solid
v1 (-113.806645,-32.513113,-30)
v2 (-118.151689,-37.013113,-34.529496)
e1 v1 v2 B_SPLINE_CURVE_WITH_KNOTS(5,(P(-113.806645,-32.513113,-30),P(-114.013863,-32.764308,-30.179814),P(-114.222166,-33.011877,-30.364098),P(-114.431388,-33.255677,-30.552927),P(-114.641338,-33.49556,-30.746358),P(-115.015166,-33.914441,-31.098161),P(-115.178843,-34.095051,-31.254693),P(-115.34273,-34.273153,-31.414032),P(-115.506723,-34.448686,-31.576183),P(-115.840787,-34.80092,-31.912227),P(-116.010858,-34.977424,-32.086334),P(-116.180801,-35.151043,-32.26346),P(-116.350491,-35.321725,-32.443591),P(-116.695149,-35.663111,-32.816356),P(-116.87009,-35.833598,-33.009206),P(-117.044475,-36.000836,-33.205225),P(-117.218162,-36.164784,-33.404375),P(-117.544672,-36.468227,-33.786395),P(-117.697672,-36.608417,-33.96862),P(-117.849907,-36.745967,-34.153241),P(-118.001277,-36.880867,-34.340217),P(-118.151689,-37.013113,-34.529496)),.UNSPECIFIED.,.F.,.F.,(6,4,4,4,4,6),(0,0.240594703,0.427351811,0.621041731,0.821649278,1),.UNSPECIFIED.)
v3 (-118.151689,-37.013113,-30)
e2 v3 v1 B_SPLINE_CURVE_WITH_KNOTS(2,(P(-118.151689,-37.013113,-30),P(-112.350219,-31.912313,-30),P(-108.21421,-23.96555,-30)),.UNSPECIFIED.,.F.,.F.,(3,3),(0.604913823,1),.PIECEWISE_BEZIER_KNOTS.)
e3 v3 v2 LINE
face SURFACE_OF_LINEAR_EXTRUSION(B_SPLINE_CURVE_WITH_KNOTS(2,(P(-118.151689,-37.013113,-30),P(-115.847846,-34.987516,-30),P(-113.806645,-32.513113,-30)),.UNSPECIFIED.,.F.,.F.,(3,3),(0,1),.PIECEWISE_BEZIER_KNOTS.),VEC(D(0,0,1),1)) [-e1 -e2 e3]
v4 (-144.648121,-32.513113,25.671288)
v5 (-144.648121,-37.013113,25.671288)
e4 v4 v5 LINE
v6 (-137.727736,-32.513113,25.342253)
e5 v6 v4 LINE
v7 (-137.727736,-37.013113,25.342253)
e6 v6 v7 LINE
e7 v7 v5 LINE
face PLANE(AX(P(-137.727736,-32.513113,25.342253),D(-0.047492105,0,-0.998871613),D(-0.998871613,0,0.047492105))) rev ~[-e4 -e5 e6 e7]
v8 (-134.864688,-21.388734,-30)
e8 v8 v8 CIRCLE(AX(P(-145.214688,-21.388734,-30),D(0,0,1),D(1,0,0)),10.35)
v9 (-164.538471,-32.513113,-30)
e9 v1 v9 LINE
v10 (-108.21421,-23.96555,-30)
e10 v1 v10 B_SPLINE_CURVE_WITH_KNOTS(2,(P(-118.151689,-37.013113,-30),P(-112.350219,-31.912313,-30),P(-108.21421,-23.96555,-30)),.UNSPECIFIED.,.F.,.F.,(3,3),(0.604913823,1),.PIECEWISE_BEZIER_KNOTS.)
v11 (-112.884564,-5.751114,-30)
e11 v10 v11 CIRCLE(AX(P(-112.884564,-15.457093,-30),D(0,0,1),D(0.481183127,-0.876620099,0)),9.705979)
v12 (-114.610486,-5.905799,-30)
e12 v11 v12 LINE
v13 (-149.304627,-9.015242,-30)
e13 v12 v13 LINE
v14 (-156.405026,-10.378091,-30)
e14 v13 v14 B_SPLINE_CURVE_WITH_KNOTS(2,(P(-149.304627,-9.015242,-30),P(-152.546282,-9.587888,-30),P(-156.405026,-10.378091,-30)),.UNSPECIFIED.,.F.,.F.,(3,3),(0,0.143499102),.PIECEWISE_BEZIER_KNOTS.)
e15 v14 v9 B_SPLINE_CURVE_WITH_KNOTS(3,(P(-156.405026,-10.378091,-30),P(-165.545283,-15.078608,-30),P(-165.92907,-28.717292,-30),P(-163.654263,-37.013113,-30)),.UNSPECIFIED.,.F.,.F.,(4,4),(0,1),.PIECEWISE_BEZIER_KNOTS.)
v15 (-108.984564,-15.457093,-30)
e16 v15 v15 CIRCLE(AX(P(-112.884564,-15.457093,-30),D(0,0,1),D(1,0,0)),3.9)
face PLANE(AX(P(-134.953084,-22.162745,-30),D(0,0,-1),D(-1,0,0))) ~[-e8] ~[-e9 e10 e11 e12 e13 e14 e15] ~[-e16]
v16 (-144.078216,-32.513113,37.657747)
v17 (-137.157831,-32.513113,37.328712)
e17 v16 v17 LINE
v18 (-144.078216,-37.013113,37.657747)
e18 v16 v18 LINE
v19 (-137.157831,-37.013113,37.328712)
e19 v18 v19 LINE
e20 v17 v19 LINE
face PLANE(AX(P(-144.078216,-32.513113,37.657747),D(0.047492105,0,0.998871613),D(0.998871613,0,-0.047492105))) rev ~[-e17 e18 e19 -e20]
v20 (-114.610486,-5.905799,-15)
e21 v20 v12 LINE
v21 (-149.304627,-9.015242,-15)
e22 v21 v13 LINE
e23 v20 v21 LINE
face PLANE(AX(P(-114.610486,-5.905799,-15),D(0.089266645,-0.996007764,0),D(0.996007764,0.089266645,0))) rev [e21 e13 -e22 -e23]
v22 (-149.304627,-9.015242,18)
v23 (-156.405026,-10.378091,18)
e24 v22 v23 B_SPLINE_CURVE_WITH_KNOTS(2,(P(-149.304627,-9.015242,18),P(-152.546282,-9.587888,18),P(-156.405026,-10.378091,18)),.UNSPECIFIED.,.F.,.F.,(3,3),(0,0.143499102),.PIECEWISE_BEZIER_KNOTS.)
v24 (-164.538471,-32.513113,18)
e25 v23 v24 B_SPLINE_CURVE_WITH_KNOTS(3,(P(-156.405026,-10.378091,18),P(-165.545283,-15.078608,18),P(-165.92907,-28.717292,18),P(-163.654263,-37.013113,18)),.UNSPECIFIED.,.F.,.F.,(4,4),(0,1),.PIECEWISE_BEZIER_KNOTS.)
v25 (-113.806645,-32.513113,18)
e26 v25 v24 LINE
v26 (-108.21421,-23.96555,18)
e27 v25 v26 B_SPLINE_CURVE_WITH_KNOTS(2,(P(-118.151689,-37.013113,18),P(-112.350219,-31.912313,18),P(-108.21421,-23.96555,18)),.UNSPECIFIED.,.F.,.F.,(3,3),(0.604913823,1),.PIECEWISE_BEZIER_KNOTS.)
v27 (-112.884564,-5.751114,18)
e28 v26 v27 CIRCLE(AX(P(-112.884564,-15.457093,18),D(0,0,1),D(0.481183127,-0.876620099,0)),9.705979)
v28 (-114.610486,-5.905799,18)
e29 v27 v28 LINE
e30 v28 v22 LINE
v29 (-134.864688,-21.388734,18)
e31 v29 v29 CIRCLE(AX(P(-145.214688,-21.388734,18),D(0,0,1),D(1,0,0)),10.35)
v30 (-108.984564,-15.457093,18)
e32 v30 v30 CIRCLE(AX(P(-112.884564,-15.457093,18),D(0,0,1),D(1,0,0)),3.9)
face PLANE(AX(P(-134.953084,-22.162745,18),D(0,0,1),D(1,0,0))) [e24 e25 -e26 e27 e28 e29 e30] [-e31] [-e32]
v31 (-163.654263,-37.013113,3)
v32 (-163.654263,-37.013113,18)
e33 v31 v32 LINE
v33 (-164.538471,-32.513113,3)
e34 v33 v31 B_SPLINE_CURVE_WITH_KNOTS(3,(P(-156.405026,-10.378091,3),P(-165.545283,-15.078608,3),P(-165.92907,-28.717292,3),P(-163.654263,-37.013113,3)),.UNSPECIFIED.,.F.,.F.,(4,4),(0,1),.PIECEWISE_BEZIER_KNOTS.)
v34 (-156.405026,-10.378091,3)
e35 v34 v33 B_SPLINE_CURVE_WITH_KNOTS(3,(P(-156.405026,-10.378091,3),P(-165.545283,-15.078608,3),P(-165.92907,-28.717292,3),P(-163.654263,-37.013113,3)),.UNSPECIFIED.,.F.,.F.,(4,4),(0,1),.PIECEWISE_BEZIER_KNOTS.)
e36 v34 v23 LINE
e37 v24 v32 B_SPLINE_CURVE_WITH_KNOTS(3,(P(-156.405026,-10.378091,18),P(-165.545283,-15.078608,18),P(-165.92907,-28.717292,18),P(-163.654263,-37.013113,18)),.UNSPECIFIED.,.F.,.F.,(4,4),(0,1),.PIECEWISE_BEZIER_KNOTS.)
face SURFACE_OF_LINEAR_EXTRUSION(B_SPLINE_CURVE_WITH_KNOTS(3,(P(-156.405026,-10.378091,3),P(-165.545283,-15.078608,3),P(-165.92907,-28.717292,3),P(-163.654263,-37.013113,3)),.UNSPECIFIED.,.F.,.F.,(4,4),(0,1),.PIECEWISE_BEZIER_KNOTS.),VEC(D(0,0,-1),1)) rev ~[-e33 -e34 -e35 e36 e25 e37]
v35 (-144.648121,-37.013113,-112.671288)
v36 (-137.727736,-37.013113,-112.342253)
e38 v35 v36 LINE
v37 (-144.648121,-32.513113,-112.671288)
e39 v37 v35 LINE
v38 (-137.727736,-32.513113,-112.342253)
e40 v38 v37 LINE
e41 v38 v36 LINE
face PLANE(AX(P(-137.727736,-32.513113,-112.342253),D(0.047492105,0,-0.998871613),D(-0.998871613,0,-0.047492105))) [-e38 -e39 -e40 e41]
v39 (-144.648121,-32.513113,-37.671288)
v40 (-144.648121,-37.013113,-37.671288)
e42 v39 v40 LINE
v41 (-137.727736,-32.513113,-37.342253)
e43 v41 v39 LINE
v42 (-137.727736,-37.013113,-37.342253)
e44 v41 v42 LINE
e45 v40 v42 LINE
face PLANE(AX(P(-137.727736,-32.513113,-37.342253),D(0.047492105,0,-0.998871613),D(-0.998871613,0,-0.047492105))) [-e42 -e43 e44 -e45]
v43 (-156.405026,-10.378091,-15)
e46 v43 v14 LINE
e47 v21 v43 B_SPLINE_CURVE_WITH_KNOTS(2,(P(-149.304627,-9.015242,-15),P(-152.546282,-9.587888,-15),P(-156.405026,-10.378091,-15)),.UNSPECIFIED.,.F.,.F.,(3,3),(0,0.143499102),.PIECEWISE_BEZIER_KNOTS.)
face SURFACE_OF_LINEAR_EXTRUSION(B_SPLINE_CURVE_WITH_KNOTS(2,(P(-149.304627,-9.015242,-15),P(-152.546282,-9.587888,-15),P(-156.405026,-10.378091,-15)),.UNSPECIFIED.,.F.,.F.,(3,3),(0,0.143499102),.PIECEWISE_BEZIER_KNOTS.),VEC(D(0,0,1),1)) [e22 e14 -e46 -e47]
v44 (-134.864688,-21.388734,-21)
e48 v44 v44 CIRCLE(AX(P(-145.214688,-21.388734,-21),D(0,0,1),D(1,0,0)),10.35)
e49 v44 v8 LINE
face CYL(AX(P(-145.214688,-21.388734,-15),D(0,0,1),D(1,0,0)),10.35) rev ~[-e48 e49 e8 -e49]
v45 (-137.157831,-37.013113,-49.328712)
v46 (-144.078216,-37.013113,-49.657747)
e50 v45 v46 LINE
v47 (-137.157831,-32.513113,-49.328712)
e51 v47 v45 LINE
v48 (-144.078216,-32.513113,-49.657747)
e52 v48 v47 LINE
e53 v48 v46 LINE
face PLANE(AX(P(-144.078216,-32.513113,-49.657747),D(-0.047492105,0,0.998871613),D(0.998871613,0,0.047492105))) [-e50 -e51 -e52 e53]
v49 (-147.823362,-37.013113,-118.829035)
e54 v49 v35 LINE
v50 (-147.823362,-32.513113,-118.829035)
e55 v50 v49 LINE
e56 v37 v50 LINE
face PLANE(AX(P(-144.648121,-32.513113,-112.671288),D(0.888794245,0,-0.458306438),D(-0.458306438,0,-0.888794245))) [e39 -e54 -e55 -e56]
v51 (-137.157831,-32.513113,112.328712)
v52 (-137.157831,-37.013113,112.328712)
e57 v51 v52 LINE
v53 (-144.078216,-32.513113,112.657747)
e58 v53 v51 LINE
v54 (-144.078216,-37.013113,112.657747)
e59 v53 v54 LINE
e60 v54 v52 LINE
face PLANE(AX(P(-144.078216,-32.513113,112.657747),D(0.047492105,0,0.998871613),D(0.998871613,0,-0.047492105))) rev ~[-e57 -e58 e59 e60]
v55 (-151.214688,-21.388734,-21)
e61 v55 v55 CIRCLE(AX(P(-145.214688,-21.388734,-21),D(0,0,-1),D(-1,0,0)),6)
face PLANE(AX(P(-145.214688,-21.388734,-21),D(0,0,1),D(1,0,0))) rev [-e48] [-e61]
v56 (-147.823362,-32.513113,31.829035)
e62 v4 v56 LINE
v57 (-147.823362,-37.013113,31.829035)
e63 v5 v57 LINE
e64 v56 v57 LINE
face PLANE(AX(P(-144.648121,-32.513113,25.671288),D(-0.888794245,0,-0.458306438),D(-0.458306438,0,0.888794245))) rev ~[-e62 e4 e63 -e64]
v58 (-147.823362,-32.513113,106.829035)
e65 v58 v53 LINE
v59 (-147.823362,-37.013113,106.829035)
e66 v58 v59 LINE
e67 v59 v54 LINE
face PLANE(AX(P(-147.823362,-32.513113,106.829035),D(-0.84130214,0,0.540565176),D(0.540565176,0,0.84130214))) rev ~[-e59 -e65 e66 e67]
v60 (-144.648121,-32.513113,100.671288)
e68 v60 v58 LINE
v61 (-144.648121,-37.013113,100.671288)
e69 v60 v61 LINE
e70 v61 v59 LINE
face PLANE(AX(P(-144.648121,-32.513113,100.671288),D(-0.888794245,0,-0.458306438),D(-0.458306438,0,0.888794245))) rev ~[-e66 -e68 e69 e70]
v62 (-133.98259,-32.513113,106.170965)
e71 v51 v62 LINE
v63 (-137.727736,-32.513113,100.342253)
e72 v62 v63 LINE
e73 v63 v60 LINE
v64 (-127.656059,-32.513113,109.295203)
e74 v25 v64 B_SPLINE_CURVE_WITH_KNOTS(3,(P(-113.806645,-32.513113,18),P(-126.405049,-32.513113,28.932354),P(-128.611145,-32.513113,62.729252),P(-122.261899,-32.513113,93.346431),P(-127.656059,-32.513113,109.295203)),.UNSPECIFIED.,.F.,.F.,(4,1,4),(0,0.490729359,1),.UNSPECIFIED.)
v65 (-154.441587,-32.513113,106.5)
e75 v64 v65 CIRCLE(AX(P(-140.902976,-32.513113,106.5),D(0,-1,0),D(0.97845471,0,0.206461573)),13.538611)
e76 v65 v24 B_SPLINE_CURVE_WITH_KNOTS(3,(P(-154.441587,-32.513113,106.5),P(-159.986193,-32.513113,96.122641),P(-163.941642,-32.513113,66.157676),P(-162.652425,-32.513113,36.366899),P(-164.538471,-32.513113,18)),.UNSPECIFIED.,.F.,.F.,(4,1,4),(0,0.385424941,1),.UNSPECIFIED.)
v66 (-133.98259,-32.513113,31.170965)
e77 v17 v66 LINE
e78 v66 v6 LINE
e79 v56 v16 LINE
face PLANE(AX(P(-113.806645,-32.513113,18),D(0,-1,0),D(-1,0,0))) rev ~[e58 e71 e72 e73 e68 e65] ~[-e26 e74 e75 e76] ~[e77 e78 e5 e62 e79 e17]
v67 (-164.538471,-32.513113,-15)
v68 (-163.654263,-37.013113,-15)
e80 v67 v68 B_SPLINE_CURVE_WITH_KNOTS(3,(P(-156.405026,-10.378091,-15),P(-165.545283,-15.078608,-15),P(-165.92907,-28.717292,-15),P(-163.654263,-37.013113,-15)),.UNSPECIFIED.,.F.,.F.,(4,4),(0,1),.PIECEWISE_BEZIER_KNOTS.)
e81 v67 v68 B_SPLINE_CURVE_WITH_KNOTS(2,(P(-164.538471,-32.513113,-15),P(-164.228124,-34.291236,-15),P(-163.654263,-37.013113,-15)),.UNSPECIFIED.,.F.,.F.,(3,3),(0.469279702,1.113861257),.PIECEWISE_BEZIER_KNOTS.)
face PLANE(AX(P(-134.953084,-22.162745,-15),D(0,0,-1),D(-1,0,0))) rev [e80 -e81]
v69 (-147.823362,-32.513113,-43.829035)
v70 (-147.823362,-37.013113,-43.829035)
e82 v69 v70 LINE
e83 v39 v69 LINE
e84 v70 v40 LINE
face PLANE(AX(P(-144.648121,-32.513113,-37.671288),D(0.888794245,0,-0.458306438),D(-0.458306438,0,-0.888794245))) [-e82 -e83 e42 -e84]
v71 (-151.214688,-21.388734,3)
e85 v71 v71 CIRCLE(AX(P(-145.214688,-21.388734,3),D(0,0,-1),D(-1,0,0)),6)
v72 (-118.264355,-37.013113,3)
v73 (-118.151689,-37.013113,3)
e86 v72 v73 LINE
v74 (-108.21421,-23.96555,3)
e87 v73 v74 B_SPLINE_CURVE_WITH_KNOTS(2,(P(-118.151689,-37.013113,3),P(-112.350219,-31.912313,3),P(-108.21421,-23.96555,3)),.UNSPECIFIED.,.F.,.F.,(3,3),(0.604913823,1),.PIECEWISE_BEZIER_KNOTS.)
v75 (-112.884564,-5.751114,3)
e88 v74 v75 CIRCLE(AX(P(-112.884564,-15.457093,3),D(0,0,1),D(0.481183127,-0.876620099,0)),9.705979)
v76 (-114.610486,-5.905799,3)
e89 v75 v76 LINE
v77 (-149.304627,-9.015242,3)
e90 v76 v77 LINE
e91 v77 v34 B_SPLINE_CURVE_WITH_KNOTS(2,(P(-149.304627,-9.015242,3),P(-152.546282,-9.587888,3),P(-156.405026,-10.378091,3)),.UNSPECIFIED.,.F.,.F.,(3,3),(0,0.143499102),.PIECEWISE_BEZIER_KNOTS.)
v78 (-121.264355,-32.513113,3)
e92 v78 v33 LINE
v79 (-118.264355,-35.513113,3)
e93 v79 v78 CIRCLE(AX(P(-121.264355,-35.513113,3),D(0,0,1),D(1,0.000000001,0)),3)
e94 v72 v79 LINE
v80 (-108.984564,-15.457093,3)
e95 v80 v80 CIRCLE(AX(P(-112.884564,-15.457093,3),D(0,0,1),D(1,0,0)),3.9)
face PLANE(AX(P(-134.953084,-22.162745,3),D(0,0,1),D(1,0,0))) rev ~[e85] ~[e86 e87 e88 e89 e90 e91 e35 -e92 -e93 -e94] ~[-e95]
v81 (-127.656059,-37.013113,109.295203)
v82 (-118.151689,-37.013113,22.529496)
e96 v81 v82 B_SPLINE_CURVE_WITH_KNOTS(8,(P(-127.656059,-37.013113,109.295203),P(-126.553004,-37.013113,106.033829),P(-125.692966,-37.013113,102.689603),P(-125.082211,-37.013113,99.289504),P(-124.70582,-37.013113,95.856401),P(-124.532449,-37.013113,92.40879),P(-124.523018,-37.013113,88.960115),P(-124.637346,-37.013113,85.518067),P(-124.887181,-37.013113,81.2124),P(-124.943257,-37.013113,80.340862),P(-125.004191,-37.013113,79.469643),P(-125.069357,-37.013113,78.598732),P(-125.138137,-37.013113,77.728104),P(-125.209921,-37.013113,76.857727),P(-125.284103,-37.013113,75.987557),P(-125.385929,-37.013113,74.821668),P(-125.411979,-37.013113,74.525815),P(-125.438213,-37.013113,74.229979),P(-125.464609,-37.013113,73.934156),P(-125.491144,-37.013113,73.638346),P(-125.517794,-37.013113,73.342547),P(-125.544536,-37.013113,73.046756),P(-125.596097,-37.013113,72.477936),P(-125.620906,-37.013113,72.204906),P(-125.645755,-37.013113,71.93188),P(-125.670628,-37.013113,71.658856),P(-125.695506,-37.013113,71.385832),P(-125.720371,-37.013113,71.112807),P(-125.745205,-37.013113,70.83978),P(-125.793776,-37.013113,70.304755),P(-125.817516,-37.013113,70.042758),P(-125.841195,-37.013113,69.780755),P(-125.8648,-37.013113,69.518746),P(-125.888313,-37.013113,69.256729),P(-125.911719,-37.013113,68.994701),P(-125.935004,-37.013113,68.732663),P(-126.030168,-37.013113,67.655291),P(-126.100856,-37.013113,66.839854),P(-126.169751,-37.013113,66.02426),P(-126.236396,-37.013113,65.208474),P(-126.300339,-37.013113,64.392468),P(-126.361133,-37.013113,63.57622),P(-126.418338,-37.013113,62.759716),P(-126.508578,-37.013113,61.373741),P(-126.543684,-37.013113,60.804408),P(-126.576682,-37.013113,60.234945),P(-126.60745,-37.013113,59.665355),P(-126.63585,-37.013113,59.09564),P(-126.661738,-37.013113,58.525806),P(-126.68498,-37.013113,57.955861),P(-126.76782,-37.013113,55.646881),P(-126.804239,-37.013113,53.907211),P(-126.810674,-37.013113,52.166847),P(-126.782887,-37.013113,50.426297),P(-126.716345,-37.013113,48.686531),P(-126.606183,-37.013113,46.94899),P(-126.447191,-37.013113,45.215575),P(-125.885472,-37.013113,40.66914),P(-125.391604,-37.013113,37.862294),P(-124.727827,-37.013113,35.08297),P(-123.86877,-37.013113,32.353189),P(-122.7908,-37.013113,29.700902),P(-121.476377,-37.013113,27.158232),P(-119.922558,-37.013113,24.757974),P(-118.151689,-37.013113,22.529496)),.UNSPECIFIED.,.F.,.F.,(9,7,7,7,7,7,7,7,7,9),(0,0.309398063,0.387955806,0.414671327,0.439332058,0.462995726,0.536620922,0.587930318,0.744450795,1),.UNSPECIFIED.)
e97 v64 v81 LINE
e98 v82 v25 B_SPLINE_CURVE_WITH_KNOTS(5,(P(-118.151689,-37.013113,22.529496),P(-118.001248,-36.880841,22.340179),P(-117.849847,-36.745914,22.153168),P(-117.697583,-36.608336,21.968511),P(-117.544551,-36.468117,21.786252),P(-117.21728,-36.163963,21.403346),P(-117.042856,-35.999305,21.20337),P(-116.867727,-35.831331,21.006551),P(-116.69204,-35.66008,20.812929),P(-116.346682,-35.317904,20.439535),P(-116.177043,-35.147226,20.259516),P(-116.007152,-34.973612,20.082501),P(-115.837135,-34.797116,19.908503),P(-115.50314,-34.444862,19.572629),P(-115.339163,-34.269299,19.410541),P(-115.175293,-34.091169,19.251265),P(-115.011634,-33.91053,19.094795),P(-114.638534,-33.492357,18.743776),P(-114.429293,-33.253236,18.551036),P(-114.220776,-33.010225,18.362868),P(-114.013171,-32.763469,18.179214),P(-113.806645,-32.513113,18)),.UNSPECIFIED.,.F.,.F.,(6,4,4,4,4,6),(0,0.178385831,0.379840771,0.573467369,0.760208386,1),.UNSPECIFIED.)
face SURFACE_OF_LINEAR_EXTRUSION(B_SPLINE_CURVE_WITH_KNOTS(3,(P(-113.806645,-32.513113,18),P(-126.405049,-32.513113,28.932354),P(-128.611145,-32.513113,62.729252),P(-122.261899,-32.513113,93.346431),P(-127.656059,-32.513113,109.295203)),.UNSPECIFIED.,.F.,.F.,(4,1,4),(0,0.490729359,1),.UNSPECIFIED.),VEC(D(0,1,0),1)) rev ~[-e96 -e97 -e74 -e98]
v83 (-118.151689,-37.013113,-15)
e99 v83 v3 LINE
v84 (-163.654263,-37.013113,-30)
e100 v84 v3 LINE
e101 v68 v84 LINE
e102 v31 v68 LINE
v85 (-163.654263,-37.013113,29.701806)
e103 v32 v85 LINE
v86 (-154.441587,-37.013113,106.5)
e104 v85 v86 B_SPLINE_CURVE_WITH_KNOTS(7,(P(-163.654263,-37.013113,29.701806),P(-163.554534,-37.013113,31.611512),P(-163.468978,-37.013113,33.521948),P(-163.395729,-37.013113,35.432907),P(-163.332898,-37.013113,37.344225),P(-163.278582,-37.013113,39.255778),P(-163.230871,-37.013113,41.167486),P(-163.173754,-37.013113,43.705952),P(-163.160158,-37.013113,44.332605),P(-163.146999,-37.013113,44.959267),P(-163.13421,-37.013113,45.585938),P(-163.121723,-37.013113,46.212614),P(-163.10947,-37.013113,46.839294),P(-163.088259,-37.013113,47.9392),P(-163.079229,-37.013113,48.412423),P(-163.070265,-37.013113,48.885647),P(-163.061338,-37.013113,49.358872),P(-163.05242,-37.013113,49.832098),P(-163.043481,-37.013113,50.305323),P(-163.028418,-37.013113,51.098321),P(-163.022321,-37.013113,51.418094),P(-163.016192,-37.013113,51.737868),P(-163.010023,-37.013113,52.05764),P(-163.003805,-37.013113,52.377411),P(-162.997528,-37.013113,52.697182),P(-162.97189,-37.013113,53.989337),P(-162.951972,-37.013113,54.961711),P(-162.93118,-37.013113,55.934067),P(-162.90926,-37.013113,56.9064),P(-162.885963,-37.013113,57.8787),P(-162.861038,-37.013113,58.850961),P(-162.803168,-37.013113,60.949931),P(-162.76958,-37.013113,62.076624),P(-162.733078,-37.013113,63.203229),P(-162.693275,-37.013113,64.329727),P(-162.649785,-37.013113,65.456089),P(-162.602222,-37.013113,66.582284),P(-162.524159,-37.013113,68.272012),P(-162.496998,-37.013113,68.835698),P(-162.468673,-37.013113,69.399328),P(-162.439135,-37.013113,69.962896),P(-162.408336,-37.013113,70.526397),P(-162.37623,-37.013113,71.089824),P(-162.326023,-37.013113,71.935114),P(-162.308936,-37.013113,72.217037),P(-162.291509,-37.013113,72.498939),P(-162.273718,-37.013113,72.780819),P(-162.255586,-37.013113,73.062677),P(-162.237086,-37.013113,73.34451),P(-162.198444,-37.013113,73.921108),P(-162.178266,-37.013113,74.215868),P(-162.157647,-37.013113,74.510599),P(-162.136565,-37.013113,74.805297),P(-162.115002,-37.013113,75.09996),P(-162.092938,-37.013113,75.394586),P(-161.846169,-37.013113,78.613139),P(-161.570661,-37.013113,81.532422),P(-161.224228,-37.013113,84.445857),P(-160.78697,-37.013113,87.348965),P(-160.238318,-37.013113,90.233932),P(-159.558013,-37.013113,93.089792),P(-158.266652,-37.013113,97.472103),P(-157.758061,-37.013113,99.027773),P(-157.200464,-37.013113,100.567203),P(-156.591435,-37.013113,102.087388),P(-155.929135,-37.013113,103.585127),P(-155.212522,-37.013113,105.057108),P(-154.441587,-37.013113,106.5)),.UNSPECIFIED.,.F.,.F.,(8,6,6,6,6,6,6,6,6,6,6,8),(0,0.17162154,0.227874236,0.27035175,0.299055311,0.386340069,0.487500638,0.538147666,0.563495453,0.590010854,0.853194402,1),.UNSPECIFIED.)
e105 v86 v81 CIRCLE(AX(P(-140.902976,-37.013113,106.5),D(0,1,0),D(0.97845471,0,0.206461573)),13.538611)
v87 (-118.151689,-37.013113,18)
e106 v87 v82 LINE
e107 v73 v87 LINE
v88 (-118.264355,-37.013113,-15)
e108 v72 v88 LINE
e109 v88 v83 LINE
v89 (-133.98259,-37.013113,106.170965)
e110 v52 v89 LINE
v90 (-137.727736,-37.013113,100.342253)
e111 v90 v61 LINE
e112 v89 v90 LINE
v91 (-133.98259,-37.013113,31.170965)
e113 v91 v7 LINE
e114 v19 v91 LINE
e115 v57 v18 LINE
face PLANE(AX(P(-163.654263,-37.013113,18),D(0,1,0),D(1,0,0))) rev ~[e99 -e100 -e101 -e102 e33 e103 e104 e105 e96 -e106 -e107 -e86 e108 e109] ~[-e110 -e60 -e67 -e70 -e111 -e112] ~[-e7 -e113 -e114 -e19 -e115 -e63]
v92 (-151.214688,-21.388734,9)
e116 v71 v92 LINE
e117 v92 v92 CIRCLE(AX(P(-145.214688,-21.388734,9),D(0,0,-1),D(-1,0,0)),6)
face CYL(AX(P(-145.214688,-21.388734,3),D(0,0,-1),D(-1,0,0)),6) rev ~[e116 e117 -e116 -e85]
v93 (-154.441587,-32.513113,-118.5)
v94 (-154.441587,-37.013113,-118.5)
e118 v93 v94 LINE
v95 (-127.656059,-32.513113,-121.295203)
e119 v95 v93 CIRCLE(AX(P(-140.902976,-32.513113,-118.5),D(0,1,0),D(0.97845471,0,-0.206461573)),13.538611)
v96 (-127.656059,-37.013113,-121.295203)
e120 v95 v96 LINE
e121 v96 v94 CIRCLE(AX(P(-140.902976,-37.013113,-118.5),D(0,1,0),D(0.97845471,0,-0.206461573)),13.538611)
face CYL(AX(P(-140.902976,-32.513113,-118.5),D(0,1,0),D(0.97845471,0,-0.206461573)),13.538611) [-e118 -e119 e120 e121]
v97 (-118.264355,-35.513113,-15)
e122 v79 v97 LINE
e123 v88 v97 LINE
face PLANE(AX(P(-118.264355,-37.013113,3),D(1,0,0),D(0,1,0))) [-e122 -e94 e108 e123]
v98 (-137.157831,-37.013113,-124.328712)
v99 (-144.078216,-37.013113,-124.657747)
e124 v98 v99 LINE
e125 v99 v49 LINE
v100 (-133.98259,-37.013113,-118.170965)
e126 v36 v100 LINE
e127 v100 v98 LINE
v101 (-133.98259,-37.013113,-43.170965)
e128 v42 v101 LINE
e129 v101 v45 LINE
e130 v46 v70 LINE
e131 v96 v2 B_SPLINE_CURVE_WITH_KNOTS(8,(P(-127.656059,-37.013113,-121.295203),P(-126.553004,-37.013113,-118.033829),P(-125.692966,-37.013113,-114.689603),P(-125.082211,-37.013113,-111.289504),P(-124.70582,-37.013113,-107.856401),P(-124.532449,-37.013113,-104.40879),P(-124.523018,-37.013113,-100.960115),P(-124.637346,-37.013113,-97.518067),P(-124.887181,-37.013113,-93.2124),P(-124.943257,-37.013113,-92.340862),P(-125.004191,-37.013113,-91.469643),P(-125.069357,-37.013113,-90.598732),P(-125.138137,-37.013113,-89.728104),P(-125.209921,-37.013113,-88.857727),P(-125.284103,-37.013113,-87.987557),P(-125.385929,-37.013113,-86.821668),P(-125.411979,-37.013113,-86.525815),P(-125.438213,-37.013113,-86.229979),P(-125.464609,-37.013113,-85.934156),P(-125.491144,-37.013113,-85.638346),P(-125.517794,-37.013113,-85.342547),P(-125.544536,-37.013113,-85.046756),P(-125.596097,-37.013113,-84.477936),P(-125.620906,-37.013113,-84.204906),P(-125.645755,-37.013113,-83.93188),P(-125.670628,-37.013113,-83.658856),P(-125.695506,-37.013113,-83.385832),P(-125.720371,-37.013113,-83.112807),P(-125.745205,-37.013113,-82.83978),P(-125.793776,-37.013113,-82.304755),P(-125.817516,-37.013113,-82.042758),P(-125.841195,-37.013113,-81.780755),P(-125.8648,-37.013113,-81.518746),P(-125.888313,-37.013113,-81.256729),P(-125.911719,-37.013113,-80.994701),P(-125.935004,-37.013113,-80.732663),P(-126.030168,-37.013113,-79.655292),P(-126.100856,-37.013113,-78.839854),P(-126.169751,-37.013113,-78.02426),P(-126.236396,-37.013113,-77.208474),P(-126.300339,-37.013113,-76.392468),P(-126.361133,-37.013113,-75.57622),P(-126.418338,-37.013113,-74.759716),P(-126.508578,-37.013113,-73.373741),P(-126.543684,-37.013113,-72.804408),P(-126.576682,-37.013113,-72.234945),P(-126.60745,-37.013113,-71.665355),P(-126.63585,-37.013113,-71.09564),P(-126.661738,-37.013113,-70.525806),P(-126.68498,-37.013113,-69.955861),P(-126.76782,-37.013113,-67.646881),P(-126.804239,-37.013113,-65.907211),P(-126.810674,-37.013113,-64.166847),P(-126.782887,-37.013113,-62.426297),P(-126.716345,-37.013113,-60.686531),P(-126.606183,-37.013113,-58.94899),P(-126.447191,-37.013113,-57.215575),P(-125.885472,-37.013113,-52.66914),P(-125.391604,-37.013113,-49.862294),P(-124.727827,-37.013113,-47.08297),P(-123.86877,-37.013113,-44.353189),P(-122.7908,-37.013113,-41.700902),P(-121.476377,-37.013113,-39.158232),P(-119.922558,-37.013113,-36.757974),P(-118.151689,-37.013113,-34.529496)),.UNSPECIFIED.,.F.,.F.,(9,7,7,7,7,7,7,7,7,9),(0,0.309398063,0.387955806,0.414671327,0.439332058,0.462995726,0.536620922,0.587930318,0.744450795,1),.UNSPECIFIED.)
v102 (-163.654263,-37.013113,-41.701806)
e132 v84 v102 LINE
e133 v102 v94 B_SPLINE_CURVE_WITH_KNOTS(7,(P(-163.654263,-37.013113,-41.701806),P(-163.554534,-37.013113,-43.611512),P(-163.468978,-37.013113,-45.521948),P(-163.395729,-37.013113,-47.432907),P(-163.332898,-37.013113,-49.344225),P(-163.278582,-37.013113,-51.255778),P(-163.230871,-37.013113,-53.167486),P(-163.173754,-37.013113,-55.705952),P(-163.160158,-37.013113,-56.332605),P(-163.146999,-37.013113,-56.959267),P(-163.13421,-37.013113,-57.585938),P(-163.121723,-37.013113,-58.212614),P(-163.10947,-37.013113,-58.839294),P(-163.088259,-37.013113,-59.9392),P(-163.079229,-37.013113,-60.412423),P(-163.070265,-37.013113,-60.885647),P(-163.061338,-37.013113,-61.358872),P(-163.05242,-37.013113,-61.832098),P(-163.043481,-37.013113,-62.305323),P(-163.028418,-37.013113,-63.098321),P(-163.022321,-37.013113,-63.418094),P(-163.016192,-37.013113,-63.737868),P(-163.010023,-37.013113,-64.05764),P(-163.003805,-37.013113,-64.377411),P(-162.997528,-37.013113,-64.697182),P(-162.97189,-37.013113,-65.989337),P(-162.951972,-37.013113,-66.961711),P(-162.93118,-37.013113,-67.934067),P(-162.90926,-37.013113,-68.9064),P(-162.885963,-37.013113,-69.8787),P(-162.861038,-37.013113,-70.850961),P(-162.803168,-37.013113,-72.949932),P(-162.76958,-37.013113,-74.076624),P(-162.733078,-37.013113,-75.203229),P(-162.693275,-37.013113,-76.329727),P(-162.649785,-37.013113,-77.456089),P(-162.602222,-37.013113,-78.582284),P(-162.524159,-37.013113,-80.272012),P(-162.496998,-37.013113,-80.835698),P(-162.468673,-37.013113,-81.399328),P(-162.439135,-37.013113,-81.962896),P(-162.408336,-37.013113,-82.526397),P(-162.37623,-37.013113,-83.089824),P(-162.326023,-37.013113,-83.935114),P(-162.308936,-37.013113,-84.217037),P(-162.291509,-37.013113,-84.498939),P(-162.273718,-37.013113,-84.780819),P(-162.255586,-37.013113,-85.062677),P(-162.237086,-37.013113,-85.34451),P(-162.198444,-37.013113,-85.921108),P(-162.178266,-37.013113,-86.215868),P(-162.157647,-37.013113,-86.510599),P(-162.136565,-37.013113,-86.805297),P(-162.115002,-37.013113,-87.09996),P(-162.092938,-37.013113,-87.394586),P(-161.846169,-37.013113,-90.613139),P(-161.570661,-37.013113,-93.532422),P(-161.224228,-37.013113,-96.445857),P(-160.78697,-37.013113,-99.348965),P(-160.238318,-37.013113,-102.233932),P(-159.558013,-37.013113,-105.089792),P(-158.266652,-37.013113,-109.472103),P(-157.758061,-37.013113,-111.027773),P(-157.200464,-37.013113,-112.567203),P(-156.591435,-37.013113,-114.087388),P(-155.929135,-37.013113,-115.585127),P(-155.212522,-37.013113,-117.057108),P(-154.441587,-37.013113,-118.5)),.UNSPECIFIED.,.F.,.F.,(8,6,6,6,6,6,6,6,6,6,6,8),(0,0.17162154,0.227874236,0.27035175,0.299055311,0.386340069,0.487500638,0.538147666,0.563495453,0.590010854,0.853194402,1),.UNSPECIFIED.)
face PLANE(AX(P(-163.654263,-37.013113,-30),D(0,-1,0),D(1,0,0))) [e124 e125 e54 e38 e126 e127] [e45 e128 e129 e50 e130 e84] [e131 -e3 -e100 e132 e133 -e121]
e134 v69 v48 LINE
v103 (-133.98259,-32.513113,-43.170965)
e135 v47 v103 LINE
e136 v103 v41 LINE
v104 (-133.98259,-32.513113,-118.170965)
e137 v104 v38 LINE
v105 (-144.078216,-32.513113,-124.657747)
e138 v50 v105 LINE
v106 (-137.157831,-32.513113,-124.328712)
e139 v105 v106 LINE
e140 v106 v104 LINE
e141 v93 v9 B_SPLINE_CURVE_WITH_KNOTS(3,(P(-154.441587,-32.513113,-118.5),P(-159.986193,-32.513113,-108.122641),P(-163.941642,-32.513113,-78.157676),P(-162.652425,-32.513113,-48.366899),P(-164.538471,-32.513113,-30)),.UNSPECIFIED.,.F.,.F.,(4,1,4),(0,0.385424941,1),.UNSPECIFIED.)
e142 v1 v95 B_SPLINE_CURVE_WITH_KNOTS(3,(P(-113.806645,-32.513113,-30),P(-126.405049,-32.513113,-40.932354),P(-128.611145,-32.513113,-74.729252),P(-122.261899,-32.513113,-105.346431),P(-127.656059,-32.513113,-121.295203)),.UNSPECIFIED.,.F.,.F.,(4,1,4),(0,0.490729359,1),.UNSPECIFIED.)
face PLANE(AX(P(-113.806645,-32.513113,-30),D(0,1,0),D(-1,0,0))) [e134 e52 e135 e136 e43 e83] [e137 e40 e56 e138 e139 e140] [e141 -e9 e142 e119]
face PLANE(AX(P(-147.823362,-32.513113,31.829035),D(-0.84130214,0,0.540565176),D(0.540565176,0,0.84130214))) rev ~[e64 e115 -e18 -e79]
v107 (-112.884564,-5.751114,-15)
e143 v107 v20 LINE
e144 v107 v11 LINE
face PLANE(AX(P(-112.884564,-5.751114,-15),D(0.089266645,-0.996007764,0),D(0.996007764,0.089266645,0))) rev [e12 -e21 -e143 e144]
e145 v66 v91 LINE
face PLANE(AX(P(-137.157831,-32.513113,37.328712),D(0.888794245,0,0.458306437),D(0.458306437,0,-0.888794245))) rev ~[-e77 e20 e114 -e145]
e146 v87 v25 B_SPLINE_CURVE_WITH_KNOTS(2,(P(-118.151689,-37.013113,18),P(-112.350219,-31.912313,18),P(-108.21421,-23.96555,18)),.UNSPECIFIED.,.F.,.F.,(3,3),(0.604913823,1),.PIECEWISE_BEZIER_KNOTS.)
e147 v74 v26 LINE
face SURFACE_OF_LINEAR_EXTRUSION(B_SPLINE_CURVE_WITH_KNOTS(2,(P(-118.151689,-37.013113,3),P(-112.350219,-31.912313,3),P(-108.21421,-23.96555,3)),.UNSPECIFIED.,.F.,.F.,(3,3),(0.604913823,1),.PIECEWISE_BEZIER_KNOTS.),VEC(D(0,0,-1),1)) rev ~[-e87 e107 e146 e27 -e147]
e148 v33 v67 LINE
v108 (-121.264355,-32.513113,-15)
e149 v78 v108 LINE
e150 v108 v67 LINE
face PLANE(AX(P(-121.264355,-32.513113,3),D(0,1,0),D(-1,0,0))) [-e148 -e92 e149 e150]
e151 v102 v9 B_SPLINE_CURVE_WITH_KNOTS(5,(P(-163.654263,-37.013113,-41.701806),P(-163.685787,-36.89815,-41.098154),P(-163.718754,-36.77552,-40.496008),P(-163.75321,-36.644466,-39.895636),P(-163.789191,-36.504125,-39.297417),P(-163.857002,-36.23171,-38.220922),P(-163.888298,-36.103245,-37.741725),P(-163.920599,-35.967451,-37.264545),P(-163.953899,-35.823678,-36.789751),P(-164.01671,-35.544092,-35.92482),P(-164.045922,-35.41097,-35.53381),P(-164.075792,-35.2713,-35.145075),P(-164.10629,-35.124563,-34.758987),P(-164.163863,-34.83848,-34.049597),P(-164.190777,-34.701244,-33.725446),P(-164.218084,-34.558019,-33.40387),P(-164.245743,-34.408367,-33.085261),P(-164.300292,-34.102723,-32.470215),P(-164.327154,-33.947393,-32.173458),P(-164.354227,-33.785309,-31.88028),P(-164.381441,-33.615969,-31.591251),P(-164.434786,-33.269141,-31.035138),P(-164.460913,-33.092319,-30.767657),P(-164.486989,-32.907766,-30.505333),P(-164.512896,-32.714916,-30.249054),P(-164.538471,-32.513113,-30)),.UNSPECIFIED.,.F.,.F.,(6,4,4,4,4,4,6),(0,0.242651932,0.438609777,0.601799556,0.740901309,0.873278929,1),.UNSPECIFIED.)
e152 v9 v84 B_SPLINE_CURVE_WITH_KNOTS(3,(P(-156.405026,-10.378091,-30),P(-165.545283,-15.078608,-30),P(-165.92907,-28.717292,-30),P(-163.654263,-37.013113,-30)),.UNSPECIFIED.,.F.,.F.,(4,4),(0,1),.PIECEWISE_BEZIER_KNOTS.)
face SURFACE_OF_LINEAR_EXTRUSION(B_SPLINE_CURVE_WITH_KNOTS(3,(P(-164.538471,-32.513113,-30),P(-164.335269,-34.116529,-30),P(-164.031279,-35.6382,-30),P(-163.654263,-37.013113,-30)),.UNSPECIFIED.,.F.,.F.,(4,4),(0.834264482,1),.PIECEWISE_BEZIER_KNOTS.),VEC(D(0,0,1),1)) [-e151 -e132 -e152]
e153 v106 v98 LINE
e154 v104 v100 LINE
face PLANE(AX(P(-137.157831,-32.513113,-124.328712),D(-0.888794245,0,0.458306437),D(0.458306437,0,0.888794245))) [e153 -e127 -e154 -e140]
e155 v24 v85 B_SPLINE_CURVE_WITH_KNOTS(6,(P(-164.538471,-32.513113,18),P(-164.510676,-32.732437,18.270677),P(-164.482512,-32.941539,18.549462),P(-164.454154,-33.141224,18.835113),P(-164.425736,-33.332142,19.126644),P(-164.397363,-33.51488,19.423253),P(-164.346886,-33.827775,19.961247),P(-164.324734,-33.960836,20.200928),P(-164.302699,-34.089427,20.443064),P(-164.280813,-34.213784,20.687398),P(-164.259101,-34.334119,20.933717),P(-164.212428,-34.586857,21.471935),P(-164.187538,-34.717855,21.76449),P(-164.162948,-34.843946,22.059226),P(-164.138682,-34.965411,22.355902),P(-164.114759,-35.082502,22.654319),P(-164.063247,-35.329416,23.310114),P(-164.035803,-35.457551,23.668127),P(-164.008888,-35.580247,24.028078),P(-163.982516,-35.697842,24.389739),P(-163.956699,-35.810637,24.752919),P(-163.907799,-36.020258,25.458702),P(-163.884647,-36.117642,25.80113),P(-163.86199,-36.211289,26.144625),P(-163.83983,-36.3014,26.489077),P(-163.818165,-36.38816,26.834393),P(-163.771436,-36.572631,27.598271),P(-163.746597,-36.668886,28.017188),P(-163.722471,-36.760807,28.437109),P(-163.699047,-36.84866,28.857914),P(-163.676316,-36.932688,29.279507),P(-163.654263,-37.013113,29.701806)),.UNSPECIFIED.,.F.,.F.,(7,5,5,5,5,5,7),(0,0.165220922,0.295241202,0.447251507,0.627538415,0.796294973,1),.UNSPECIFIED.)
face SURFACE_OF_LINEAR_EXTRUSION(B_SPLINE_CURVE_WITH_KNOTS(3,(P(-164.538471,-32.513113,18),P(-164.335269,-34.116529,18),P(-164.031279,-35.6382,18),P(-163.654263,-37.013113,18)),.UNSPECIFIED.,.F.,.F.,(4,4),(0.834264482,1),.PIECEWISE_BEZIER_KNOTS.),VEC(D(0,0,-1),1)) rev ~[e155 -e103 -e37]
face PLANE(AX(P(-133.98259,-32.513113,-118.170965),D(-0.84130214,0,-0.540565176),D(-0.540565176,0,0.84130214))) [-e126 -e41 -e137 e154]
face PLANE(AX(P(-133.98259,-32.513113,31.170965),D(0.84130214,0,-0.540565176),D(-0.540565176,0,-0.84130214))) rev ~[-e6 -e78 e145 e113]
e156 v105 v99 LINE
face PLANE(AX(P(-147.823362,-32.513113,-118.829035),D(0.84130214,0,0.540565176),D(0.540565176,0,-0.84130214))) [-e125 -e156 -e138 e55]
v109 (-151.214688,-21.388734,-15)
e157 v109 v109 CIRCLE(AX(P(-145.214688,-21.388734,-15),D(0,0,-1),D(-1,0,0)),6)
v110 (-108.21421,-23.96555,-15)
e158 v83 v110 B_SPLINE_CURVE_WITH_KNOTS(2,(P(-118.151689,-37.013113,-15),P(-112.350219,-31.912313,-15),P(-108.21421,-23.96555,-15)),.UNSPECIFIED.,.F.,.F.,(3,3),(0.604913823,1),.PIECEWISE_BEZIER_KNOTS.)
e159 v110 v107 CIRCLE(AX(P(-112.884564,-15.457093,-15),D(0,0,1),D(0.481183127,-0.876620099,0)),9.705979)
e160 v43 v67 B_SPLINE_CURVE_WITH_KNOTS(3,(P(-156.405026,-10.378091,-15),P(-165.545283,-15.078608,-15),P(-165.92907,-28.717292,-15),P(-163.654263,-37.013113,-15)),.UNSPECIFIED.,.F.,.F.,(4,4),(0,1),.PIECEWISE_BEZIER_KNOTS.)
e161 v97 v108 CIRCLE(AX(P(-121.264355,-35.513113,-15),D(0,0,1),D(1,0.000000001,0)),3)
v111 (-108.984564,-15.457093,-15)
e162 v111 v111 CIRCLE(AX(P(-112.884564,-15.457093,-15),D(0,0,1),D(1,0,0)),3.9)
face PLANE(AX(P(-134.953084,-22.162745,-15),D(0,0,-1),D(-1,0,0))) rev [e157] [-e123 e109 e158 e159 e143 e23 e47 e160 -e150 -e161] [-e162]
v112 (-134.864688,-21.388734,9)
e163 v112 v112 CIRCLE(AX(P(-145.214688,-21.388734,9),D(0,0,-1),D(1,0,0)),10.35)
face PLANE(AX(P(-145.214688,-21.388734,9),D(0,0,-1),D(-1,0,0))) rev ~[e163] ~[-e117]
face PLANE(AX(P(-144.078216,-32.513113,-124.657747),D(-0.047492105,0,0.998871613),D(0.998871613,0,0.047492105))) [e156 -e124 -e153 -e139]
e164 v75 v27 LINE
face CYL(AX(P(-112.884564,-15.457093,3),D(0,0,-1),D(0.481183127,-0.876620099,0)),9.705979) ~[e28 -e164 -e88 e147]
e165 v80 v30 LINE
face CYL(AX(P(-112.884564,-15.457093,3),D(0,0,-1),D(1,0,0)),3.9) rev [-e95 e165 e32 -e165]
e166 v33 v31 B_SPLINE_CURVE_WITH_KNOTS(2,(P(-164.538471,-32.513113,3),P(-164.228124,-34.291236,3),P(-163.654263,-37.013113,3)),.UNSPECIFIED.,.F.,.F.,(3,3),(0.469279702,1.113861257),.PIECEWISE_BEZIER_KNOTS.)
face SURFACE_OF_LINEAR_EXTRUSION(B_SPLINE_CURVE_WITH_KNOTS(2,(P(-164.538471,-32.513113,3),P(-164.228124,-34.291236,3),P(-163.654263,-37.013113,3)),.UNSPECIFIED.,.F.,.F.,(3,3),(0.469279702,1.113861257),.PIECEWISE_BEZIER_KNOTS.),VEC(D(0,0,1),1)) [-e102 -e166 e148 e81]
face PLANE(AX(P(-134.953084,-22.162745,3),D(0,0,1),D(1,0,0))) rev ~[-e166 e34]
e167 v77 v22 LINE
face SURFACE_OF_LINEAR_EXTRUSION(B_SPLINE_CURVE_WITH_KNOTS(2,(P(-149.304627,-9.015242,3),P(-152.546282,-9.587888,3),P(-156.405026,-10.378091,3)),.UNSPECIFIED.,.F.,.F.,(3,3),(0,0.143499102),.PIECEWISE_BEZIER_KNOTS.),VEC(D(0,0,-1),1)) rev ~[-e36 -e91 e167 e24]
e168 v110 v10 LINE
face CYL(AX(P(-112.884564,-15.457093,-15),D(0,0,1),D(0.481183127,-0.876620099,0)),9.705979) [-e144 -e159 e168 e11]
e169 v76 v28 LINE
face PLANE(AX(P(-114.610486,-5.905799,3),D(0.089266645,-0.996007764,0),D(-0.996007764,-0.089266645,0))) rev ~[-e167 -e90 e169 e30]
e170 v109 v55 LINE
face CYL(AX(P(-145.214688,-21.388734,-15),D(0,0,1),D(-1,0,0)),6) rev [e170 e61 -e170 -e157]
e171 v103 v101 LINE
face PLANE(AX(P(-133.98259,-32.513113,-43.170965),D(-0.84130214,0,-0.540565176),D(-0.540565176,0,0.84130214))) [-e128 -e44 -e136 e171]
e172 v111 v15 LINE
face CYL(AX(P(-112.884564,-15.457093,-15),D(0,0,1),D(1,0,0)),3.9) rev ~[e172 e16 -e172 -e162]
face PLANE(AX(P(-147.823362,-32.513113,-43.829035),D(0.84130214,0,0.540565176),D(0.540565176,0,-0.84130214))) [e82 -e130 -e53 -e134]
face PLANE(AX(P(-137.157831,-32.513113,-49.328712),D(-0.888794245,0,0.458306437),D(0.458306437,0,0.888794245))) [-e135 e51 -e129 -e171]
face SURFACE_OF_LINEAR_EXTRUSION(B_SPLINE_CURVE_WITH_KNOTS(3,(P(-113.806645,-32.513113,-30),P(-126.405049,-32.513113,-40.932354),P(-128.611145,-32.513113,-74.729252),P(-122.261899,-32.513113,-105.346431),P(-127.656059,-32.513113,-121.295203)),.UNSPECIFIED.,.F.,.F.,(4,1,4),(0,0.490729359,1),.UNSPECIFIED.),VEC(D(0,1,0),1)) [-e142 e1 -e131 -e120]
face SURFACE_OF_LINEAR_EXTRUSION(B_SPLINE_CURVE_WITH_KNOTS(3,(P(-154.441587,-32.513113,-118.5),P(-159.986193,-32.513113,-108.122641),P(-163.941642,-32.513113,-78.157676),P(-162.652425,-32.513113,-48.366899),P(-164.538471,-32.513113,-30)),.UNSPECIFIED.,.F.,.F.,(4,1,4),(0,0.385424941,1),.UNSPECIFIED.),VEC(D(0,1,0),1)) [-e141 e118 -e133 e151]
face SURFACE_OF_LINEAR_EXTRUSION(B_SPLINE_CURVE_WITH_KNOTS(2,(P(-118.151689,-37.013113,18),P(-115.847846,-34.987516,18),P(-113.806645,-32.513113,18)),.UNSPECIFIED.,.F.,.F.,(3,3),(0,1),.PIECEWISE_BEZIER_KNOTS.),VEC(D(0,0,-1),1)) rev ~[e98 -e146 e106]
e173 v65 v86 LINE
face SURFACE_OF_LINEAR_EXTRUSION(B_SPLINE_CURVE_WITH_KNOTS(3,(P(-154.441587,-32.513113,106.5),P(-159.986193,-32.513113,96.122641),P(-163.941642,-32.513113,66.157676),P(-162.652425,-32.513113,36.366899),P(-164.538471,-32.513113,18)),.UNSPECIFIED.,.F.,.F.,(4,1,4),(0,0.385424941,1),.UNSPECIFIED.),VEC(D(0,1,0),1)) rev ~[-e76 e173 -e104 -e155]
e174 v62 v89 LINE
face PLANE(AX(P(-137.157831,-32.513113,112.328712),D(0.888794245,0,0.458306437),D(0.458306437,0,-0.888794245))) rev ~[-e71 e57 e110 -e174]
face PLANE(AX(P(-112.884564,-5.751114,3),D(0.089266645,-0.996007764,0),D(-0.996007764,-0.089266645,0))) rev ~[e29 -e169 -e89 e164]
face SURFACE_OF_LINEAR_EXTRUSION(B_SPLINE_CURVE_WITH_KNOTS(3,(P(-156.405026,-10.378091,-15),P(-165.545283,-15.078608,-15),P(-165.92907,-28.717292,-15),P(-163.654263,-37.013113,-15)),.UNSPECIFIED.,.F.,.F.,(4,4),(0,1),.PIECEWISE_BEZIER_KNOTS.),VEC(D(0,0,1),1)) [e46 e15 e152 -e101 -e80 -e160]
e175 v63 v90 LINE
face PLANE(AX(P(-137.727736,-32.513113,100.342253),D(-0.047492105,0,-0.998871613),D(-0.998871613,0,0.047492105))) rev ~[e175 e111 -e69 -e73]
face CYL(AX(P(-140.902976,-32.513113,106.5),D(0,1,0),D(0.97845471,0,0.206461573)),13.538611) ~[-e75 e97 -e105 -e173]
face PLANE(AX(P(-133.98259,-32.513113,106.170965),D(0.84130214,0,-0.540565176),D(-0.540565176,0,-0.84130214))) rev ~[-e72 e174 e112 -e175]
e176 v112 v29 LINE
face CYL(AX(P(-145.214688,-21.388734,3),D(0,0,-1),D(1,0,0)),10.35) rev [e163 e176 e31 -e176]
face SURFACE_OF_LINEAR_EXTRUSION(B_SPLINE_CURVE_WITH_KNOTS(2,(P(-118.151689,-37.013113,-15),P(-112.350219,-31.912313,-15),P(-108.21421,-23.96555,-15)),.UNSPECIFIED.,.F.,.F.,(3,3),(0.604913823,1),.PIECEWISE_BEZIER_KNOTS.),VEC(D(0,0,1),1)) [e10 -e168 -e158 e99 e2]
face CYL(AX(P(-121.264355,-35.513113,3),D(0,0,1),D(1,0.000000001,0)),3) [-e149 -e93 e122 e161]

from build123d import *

# Parameters (mm, degrees)
SKETCH1_R           = 6.9
SKETCH1_R_2         = 2.6
BOSS_EXTRUDE1_DEPTH = 10
BOSS_EXTRUDE2_DEPTH = 12
SKETCH3_R           = 7
SKETCH3_R_2         = 4
BOSS_EXTRUDE3_DEPTH = 4
BOSS_EXTRUDE4_DEPTH = 84
BOSS_EXTRUDE5_DEPTH = 84
CUT_EXTRUDE1_DEPTH  = 190.323263107
SCALE1_SCALE        = 1.5


with BuildPart() as part:
    # Sketch1 → Boss-Extrude1 (new body)
    with BuildSketch(Plane.XY):
        with BuildLine():
            Line((-155.070766667, -34.03543395), (-139.182010536, -34.03543395))
            Line((-139.182010536, -34.03543395), (-124.735717634, -34.03543395))
            add(Edge.make_bspline(
                [(-124.735717634, -34.03543395), (-120.868070652, -30.634901056), (-118.110731489, -25.337058748)],
                knots=[0.604913823, 0.604913823, 0.604913823, 1, 1, 1], degree=2))
            ThreePointArc((-118.110731489, -25.337058748), (-114.956411592, -18.057608365), (-121.224300514, -13.194101363))
            Line((-121.224300514, -13.194101363), (-122.374915538, -13.297224598))
            Line((-122.374915538, -13.297224598), (-145.504342678, -15.370186717))
            add(Edge.make_bspline(
                [(-145.504342678, -15.370186717), (-147.665446471, -15.751951197), (-150.237941893, -16.278752791)],
                knots=[0, 0, 0, 0.143499102, 0.143499102, 0.143499102], degree=2))
            add(Edge.make_bspline(
                [(-150.237941893, -16.278752791), (-156.331446907, -19.412430802), (-156.587305002, -28.504886835), (-155.070766667, -34.03543395)],
                knots=[0, 0, 0, 0, 1, 1, 1, 1], degree=3))
        make_face()
        with Locations((-142.777717077, -23.619181221)):
            Circle(SKETCH1_R, mode=Mode.SUBTRACT)
        with Locations((-121.224300514, -19.664754316)):
            Circle(SKETCH1_R_2, mode=Mode.SUBTRACT)
    boss_extrude1 = extrude(amount=BOSS_EXTRUDE1_DEPTH)

    # Sketch2 → Boss-Extrude2 (add)
    with BuildSketch(Plane(origin=(0, 0, 0), x_dir=(-1, 0, 0), z_dir=(0, 0, -1))):
        with BuildLine():
            Line((124.810828249, -34.03543395), (124.810828249, -33.03543395))
            ThreePointArc((124.810828249, -33.03543395), (125.396614687, -31.621220388), (126.810828249, -31.03543395))
            Line((126.810828249, -31.03543395), (155.660238601, -31.03543395))
            add(Edge.make_bspline(
                [(155.660238601, -31.03543395), (155.453340821, -32.220849379), (155.070766667, -34.03543395)],
                knots=[0.469279702, 0.469279702, 0.469279702, 1.113861257, 1.113861257, 1.113861257], degree=2))
            Line((155.070766667, -34.03543395), (124.810828249, -34.03543395))
        make_face()
    extrude(amount=BOSS_EXTRUDE2_DEPTH)

    # Mirror1: Boss-Extrude1 across plane
    add(boss_extrude1.mirror(Plane(origin=(0, 0, -6), x_dir=(1, 0, 0), z_dir=(0, 0, -1))))

    # Sketch3 → Boss-Extrude3 (add)
    with BuildSketch(Plane(origin=(0, 0, 0), x_dir=(-1, 0, 0), z_dir=(0, 0, -1))):
        with Locations((142.777717077, -23.619181221)):
            Circle(SKETCH3_R)
        with Locations((142.777717077, -23.619181221)):
            Circle(SKETCH3_R_2, mode=Mode.SUBTRACT)
    boss_extrude3 = extrude(amount=-BOSS_EXTRUDE3_DEPTH)

    # Mirror2: Boss-Extrude3 across plane
    add(boss_extrude3.mirror(Plane(origin=(0, 0, -6), x_dir=(1, 0, 0), z_dir=(0, 0, -1))))

    # Sketch4 → Boss-Extrude4 (add)
    with BuildSketch(Plane.XY.offset(10)):
        with BuildLine():
            add(Edge.make_bspline(
                [(-155.660238601, -31.03543395), (-155.52477055, -32.104378324), (-155.322110933, -33.11882586), (-155.070766667, -34.03543395)],
                knots=[0.834264482, 0.834264482, 0.834264482, 0.834264482, 1, 1, 1, 1], degree=3))
            Line((-155.070766667, -34.03543395), (-124.735717634, -34.03543395))
            add(Edge.make_bspline(
                [(-124.735717634, -34.03543395), (-123.199822379, -32.685036057), (-121.8390218, -31.03543395)],
                knots=[0, 0, 0, 1, 1, 1], degree=2))
            Line((-121.8390218, -31.03543395), (-155.660238601, -31.03543395))
        make_face()
    extrude(amount=BOSS_EXTRUDE4_DEPTH)

    # Sketch5 → Boss-Extrude5 (add)
    with BuildSketch(Plane(origin=(0, 0, -22), x_dir=(-1, 0, 0), z_dir=(0, 0, -1))):
        with BuildLine():
            Line((155.070766667, -34.03543395), (124.735717633, -34.035433949))
            add(Edge.make_bspline(
                [(124.735717633, -34.035433949), (123.199822378, -32.685036056), (121.8390218, -31.03543395)],
                knots=[0, 0, 0, 1, 1, 1], degree=2))
            Line((121.8390218, -31.03543395), (155.660238601, -31.03543395))
            add(Edge.make_bspline(
                [(155.660238601, -31.03543395), (155.52477055, -32.104378324), (155.322110933, -33.11882586), (155.070766667, -34.03543395)],
                knots=[0.834264482, 0.834264482, 0.834264482, 0.834264482, 1, 1, 1, 1], degree=3))
        make_face()
    extrude(amount=BOSS_EXTRUDE5_DEPTH)

    # Sketch6 → Cut-Extrude1 (cut, through all)
    with BuildSketch(Plane(origin=(0, -31.03543395, 0), x_dir=(1, 0, 0), z_dir=(0, 1, 0))):
        Polygon((-137.786415389, 76.894835229), (-142.400005748, 77.114191864), (-144.516832509, 81.219356636), (-142.02006891, 85.105164771), (-137.406478551, 84.885808136), (-135.289651791, 80.780643364), align=None)
        Polygon((-135.289651791, 30.780643364), (-137.786415389, 26.894835229), (-142.400005748, 27.114191864), (-144.516832509, 31.219356636), (-142.02006891, 35.105164771), (-137.406478551, 34.885808136), align=None)
        with BuildLine():
            Line((-155.6602386, 22), (-173.465321409, 22))
            Line((-173.465321409, 22), (-173.465321409, 117.834139367))
            Line((-173.465321409, 117.834139367), (-100.430925903, 117.834139367))
            Line((-100.430925903, 117.834139367), (-121.8390218, 22))
            add(Edge.make_bspline(
                [(-121.8390218, 22), (-130.237957541, 29.288236007), (-131.708688401, 51.819501052), (-127.475857655, 72.230953717), (-131.071963897, 82.863468574)],
                knots=[0, 0, 0, 0, 0.490729359, 1, 1, 1, 1], degree=3))
            ThreePointArc((-131.071963897, 82.863468574), (-140.840035974, 89.976993263), (-148.928982602, 81))
            add(Edge.make_bspline(
                [(-148.928982602, 81), (-152.625386512, 74.081760345), (-155.262352814, 54.105117148), (-154.402874629, 34.24459948), (-155.6602386, 22)],
                knots=[0, 0, 0, 0, 0.385424941, 1, 1, 1, 1], degree=3))
        make_face()
        with BuildLine():
            Line((-100.430925903, -105.834139367), (-121.8390218, -10))
            add(Edge.make_bspline(
                [(-121.8390218, -10), (-130.237957541, -17.288236007), (-131.708688401, -39.819501052), (-127.475857655, -60.230953717), (-131.071963897, -70.863468574)],
                knots=[0, 0, 0, 0, 0.490729359, 1, 1, 1, 1], degree=3))
            ThreePointArc((-131.071963897, -70.863468574), (-140.840035974, -77.976993263), (-148.928982602, -69))
            add(Edge.make_bspline(
                [(-148.928982602, -69), (-152.625386512, -62.081760345), (-155.262352814, -42.105117148), (-154.402874629, -22.24459948), (-155.6602386, -10)],
                knots=[0, 0, 0, 0, 0.385424941, 1, 1, 1, 1], degree=3))
            Line((-155.6602386, -10), (-173.465321409, -10))
            Line((-173.465321409, -10), (-173.465321409, -105.834139367))
            Line((-173.465321409, -105.834139367), (-100.430925903, -105.834139367))
        make_face()
        Polygon((-142.02006891, -23.105164771), (-137.406478551, -22.885808136), (-135.289651791, -18.780643364), (-137.786415389, -14.894835229), (-142.400005748, -15.114191864), (-144.516832509, -19.219356636), align=None)
        Polygon((-135.289651791, -68.780643364), (-137.786415389, -64.894835229), (-142.400005748, -65.114191864), (-144.516832509, -69.219356636), (-142.02006891, -73.105164771), (-137.406478551, -72.885808136), align=None)
    extrude(amount=-CUT_EXTRUDE1_DEPTH, mode=Mode.SUBTRACT)


with BuildPart() as part_1:
    # Scale1: scaled about (-137.903774464, -28.080076636, -5.999999982)
    add(part.part.scale(SCALE1_SCALE).moved(Location((68.951887232, 14.040038318, 2.999999991))))


solid = part_1.part
